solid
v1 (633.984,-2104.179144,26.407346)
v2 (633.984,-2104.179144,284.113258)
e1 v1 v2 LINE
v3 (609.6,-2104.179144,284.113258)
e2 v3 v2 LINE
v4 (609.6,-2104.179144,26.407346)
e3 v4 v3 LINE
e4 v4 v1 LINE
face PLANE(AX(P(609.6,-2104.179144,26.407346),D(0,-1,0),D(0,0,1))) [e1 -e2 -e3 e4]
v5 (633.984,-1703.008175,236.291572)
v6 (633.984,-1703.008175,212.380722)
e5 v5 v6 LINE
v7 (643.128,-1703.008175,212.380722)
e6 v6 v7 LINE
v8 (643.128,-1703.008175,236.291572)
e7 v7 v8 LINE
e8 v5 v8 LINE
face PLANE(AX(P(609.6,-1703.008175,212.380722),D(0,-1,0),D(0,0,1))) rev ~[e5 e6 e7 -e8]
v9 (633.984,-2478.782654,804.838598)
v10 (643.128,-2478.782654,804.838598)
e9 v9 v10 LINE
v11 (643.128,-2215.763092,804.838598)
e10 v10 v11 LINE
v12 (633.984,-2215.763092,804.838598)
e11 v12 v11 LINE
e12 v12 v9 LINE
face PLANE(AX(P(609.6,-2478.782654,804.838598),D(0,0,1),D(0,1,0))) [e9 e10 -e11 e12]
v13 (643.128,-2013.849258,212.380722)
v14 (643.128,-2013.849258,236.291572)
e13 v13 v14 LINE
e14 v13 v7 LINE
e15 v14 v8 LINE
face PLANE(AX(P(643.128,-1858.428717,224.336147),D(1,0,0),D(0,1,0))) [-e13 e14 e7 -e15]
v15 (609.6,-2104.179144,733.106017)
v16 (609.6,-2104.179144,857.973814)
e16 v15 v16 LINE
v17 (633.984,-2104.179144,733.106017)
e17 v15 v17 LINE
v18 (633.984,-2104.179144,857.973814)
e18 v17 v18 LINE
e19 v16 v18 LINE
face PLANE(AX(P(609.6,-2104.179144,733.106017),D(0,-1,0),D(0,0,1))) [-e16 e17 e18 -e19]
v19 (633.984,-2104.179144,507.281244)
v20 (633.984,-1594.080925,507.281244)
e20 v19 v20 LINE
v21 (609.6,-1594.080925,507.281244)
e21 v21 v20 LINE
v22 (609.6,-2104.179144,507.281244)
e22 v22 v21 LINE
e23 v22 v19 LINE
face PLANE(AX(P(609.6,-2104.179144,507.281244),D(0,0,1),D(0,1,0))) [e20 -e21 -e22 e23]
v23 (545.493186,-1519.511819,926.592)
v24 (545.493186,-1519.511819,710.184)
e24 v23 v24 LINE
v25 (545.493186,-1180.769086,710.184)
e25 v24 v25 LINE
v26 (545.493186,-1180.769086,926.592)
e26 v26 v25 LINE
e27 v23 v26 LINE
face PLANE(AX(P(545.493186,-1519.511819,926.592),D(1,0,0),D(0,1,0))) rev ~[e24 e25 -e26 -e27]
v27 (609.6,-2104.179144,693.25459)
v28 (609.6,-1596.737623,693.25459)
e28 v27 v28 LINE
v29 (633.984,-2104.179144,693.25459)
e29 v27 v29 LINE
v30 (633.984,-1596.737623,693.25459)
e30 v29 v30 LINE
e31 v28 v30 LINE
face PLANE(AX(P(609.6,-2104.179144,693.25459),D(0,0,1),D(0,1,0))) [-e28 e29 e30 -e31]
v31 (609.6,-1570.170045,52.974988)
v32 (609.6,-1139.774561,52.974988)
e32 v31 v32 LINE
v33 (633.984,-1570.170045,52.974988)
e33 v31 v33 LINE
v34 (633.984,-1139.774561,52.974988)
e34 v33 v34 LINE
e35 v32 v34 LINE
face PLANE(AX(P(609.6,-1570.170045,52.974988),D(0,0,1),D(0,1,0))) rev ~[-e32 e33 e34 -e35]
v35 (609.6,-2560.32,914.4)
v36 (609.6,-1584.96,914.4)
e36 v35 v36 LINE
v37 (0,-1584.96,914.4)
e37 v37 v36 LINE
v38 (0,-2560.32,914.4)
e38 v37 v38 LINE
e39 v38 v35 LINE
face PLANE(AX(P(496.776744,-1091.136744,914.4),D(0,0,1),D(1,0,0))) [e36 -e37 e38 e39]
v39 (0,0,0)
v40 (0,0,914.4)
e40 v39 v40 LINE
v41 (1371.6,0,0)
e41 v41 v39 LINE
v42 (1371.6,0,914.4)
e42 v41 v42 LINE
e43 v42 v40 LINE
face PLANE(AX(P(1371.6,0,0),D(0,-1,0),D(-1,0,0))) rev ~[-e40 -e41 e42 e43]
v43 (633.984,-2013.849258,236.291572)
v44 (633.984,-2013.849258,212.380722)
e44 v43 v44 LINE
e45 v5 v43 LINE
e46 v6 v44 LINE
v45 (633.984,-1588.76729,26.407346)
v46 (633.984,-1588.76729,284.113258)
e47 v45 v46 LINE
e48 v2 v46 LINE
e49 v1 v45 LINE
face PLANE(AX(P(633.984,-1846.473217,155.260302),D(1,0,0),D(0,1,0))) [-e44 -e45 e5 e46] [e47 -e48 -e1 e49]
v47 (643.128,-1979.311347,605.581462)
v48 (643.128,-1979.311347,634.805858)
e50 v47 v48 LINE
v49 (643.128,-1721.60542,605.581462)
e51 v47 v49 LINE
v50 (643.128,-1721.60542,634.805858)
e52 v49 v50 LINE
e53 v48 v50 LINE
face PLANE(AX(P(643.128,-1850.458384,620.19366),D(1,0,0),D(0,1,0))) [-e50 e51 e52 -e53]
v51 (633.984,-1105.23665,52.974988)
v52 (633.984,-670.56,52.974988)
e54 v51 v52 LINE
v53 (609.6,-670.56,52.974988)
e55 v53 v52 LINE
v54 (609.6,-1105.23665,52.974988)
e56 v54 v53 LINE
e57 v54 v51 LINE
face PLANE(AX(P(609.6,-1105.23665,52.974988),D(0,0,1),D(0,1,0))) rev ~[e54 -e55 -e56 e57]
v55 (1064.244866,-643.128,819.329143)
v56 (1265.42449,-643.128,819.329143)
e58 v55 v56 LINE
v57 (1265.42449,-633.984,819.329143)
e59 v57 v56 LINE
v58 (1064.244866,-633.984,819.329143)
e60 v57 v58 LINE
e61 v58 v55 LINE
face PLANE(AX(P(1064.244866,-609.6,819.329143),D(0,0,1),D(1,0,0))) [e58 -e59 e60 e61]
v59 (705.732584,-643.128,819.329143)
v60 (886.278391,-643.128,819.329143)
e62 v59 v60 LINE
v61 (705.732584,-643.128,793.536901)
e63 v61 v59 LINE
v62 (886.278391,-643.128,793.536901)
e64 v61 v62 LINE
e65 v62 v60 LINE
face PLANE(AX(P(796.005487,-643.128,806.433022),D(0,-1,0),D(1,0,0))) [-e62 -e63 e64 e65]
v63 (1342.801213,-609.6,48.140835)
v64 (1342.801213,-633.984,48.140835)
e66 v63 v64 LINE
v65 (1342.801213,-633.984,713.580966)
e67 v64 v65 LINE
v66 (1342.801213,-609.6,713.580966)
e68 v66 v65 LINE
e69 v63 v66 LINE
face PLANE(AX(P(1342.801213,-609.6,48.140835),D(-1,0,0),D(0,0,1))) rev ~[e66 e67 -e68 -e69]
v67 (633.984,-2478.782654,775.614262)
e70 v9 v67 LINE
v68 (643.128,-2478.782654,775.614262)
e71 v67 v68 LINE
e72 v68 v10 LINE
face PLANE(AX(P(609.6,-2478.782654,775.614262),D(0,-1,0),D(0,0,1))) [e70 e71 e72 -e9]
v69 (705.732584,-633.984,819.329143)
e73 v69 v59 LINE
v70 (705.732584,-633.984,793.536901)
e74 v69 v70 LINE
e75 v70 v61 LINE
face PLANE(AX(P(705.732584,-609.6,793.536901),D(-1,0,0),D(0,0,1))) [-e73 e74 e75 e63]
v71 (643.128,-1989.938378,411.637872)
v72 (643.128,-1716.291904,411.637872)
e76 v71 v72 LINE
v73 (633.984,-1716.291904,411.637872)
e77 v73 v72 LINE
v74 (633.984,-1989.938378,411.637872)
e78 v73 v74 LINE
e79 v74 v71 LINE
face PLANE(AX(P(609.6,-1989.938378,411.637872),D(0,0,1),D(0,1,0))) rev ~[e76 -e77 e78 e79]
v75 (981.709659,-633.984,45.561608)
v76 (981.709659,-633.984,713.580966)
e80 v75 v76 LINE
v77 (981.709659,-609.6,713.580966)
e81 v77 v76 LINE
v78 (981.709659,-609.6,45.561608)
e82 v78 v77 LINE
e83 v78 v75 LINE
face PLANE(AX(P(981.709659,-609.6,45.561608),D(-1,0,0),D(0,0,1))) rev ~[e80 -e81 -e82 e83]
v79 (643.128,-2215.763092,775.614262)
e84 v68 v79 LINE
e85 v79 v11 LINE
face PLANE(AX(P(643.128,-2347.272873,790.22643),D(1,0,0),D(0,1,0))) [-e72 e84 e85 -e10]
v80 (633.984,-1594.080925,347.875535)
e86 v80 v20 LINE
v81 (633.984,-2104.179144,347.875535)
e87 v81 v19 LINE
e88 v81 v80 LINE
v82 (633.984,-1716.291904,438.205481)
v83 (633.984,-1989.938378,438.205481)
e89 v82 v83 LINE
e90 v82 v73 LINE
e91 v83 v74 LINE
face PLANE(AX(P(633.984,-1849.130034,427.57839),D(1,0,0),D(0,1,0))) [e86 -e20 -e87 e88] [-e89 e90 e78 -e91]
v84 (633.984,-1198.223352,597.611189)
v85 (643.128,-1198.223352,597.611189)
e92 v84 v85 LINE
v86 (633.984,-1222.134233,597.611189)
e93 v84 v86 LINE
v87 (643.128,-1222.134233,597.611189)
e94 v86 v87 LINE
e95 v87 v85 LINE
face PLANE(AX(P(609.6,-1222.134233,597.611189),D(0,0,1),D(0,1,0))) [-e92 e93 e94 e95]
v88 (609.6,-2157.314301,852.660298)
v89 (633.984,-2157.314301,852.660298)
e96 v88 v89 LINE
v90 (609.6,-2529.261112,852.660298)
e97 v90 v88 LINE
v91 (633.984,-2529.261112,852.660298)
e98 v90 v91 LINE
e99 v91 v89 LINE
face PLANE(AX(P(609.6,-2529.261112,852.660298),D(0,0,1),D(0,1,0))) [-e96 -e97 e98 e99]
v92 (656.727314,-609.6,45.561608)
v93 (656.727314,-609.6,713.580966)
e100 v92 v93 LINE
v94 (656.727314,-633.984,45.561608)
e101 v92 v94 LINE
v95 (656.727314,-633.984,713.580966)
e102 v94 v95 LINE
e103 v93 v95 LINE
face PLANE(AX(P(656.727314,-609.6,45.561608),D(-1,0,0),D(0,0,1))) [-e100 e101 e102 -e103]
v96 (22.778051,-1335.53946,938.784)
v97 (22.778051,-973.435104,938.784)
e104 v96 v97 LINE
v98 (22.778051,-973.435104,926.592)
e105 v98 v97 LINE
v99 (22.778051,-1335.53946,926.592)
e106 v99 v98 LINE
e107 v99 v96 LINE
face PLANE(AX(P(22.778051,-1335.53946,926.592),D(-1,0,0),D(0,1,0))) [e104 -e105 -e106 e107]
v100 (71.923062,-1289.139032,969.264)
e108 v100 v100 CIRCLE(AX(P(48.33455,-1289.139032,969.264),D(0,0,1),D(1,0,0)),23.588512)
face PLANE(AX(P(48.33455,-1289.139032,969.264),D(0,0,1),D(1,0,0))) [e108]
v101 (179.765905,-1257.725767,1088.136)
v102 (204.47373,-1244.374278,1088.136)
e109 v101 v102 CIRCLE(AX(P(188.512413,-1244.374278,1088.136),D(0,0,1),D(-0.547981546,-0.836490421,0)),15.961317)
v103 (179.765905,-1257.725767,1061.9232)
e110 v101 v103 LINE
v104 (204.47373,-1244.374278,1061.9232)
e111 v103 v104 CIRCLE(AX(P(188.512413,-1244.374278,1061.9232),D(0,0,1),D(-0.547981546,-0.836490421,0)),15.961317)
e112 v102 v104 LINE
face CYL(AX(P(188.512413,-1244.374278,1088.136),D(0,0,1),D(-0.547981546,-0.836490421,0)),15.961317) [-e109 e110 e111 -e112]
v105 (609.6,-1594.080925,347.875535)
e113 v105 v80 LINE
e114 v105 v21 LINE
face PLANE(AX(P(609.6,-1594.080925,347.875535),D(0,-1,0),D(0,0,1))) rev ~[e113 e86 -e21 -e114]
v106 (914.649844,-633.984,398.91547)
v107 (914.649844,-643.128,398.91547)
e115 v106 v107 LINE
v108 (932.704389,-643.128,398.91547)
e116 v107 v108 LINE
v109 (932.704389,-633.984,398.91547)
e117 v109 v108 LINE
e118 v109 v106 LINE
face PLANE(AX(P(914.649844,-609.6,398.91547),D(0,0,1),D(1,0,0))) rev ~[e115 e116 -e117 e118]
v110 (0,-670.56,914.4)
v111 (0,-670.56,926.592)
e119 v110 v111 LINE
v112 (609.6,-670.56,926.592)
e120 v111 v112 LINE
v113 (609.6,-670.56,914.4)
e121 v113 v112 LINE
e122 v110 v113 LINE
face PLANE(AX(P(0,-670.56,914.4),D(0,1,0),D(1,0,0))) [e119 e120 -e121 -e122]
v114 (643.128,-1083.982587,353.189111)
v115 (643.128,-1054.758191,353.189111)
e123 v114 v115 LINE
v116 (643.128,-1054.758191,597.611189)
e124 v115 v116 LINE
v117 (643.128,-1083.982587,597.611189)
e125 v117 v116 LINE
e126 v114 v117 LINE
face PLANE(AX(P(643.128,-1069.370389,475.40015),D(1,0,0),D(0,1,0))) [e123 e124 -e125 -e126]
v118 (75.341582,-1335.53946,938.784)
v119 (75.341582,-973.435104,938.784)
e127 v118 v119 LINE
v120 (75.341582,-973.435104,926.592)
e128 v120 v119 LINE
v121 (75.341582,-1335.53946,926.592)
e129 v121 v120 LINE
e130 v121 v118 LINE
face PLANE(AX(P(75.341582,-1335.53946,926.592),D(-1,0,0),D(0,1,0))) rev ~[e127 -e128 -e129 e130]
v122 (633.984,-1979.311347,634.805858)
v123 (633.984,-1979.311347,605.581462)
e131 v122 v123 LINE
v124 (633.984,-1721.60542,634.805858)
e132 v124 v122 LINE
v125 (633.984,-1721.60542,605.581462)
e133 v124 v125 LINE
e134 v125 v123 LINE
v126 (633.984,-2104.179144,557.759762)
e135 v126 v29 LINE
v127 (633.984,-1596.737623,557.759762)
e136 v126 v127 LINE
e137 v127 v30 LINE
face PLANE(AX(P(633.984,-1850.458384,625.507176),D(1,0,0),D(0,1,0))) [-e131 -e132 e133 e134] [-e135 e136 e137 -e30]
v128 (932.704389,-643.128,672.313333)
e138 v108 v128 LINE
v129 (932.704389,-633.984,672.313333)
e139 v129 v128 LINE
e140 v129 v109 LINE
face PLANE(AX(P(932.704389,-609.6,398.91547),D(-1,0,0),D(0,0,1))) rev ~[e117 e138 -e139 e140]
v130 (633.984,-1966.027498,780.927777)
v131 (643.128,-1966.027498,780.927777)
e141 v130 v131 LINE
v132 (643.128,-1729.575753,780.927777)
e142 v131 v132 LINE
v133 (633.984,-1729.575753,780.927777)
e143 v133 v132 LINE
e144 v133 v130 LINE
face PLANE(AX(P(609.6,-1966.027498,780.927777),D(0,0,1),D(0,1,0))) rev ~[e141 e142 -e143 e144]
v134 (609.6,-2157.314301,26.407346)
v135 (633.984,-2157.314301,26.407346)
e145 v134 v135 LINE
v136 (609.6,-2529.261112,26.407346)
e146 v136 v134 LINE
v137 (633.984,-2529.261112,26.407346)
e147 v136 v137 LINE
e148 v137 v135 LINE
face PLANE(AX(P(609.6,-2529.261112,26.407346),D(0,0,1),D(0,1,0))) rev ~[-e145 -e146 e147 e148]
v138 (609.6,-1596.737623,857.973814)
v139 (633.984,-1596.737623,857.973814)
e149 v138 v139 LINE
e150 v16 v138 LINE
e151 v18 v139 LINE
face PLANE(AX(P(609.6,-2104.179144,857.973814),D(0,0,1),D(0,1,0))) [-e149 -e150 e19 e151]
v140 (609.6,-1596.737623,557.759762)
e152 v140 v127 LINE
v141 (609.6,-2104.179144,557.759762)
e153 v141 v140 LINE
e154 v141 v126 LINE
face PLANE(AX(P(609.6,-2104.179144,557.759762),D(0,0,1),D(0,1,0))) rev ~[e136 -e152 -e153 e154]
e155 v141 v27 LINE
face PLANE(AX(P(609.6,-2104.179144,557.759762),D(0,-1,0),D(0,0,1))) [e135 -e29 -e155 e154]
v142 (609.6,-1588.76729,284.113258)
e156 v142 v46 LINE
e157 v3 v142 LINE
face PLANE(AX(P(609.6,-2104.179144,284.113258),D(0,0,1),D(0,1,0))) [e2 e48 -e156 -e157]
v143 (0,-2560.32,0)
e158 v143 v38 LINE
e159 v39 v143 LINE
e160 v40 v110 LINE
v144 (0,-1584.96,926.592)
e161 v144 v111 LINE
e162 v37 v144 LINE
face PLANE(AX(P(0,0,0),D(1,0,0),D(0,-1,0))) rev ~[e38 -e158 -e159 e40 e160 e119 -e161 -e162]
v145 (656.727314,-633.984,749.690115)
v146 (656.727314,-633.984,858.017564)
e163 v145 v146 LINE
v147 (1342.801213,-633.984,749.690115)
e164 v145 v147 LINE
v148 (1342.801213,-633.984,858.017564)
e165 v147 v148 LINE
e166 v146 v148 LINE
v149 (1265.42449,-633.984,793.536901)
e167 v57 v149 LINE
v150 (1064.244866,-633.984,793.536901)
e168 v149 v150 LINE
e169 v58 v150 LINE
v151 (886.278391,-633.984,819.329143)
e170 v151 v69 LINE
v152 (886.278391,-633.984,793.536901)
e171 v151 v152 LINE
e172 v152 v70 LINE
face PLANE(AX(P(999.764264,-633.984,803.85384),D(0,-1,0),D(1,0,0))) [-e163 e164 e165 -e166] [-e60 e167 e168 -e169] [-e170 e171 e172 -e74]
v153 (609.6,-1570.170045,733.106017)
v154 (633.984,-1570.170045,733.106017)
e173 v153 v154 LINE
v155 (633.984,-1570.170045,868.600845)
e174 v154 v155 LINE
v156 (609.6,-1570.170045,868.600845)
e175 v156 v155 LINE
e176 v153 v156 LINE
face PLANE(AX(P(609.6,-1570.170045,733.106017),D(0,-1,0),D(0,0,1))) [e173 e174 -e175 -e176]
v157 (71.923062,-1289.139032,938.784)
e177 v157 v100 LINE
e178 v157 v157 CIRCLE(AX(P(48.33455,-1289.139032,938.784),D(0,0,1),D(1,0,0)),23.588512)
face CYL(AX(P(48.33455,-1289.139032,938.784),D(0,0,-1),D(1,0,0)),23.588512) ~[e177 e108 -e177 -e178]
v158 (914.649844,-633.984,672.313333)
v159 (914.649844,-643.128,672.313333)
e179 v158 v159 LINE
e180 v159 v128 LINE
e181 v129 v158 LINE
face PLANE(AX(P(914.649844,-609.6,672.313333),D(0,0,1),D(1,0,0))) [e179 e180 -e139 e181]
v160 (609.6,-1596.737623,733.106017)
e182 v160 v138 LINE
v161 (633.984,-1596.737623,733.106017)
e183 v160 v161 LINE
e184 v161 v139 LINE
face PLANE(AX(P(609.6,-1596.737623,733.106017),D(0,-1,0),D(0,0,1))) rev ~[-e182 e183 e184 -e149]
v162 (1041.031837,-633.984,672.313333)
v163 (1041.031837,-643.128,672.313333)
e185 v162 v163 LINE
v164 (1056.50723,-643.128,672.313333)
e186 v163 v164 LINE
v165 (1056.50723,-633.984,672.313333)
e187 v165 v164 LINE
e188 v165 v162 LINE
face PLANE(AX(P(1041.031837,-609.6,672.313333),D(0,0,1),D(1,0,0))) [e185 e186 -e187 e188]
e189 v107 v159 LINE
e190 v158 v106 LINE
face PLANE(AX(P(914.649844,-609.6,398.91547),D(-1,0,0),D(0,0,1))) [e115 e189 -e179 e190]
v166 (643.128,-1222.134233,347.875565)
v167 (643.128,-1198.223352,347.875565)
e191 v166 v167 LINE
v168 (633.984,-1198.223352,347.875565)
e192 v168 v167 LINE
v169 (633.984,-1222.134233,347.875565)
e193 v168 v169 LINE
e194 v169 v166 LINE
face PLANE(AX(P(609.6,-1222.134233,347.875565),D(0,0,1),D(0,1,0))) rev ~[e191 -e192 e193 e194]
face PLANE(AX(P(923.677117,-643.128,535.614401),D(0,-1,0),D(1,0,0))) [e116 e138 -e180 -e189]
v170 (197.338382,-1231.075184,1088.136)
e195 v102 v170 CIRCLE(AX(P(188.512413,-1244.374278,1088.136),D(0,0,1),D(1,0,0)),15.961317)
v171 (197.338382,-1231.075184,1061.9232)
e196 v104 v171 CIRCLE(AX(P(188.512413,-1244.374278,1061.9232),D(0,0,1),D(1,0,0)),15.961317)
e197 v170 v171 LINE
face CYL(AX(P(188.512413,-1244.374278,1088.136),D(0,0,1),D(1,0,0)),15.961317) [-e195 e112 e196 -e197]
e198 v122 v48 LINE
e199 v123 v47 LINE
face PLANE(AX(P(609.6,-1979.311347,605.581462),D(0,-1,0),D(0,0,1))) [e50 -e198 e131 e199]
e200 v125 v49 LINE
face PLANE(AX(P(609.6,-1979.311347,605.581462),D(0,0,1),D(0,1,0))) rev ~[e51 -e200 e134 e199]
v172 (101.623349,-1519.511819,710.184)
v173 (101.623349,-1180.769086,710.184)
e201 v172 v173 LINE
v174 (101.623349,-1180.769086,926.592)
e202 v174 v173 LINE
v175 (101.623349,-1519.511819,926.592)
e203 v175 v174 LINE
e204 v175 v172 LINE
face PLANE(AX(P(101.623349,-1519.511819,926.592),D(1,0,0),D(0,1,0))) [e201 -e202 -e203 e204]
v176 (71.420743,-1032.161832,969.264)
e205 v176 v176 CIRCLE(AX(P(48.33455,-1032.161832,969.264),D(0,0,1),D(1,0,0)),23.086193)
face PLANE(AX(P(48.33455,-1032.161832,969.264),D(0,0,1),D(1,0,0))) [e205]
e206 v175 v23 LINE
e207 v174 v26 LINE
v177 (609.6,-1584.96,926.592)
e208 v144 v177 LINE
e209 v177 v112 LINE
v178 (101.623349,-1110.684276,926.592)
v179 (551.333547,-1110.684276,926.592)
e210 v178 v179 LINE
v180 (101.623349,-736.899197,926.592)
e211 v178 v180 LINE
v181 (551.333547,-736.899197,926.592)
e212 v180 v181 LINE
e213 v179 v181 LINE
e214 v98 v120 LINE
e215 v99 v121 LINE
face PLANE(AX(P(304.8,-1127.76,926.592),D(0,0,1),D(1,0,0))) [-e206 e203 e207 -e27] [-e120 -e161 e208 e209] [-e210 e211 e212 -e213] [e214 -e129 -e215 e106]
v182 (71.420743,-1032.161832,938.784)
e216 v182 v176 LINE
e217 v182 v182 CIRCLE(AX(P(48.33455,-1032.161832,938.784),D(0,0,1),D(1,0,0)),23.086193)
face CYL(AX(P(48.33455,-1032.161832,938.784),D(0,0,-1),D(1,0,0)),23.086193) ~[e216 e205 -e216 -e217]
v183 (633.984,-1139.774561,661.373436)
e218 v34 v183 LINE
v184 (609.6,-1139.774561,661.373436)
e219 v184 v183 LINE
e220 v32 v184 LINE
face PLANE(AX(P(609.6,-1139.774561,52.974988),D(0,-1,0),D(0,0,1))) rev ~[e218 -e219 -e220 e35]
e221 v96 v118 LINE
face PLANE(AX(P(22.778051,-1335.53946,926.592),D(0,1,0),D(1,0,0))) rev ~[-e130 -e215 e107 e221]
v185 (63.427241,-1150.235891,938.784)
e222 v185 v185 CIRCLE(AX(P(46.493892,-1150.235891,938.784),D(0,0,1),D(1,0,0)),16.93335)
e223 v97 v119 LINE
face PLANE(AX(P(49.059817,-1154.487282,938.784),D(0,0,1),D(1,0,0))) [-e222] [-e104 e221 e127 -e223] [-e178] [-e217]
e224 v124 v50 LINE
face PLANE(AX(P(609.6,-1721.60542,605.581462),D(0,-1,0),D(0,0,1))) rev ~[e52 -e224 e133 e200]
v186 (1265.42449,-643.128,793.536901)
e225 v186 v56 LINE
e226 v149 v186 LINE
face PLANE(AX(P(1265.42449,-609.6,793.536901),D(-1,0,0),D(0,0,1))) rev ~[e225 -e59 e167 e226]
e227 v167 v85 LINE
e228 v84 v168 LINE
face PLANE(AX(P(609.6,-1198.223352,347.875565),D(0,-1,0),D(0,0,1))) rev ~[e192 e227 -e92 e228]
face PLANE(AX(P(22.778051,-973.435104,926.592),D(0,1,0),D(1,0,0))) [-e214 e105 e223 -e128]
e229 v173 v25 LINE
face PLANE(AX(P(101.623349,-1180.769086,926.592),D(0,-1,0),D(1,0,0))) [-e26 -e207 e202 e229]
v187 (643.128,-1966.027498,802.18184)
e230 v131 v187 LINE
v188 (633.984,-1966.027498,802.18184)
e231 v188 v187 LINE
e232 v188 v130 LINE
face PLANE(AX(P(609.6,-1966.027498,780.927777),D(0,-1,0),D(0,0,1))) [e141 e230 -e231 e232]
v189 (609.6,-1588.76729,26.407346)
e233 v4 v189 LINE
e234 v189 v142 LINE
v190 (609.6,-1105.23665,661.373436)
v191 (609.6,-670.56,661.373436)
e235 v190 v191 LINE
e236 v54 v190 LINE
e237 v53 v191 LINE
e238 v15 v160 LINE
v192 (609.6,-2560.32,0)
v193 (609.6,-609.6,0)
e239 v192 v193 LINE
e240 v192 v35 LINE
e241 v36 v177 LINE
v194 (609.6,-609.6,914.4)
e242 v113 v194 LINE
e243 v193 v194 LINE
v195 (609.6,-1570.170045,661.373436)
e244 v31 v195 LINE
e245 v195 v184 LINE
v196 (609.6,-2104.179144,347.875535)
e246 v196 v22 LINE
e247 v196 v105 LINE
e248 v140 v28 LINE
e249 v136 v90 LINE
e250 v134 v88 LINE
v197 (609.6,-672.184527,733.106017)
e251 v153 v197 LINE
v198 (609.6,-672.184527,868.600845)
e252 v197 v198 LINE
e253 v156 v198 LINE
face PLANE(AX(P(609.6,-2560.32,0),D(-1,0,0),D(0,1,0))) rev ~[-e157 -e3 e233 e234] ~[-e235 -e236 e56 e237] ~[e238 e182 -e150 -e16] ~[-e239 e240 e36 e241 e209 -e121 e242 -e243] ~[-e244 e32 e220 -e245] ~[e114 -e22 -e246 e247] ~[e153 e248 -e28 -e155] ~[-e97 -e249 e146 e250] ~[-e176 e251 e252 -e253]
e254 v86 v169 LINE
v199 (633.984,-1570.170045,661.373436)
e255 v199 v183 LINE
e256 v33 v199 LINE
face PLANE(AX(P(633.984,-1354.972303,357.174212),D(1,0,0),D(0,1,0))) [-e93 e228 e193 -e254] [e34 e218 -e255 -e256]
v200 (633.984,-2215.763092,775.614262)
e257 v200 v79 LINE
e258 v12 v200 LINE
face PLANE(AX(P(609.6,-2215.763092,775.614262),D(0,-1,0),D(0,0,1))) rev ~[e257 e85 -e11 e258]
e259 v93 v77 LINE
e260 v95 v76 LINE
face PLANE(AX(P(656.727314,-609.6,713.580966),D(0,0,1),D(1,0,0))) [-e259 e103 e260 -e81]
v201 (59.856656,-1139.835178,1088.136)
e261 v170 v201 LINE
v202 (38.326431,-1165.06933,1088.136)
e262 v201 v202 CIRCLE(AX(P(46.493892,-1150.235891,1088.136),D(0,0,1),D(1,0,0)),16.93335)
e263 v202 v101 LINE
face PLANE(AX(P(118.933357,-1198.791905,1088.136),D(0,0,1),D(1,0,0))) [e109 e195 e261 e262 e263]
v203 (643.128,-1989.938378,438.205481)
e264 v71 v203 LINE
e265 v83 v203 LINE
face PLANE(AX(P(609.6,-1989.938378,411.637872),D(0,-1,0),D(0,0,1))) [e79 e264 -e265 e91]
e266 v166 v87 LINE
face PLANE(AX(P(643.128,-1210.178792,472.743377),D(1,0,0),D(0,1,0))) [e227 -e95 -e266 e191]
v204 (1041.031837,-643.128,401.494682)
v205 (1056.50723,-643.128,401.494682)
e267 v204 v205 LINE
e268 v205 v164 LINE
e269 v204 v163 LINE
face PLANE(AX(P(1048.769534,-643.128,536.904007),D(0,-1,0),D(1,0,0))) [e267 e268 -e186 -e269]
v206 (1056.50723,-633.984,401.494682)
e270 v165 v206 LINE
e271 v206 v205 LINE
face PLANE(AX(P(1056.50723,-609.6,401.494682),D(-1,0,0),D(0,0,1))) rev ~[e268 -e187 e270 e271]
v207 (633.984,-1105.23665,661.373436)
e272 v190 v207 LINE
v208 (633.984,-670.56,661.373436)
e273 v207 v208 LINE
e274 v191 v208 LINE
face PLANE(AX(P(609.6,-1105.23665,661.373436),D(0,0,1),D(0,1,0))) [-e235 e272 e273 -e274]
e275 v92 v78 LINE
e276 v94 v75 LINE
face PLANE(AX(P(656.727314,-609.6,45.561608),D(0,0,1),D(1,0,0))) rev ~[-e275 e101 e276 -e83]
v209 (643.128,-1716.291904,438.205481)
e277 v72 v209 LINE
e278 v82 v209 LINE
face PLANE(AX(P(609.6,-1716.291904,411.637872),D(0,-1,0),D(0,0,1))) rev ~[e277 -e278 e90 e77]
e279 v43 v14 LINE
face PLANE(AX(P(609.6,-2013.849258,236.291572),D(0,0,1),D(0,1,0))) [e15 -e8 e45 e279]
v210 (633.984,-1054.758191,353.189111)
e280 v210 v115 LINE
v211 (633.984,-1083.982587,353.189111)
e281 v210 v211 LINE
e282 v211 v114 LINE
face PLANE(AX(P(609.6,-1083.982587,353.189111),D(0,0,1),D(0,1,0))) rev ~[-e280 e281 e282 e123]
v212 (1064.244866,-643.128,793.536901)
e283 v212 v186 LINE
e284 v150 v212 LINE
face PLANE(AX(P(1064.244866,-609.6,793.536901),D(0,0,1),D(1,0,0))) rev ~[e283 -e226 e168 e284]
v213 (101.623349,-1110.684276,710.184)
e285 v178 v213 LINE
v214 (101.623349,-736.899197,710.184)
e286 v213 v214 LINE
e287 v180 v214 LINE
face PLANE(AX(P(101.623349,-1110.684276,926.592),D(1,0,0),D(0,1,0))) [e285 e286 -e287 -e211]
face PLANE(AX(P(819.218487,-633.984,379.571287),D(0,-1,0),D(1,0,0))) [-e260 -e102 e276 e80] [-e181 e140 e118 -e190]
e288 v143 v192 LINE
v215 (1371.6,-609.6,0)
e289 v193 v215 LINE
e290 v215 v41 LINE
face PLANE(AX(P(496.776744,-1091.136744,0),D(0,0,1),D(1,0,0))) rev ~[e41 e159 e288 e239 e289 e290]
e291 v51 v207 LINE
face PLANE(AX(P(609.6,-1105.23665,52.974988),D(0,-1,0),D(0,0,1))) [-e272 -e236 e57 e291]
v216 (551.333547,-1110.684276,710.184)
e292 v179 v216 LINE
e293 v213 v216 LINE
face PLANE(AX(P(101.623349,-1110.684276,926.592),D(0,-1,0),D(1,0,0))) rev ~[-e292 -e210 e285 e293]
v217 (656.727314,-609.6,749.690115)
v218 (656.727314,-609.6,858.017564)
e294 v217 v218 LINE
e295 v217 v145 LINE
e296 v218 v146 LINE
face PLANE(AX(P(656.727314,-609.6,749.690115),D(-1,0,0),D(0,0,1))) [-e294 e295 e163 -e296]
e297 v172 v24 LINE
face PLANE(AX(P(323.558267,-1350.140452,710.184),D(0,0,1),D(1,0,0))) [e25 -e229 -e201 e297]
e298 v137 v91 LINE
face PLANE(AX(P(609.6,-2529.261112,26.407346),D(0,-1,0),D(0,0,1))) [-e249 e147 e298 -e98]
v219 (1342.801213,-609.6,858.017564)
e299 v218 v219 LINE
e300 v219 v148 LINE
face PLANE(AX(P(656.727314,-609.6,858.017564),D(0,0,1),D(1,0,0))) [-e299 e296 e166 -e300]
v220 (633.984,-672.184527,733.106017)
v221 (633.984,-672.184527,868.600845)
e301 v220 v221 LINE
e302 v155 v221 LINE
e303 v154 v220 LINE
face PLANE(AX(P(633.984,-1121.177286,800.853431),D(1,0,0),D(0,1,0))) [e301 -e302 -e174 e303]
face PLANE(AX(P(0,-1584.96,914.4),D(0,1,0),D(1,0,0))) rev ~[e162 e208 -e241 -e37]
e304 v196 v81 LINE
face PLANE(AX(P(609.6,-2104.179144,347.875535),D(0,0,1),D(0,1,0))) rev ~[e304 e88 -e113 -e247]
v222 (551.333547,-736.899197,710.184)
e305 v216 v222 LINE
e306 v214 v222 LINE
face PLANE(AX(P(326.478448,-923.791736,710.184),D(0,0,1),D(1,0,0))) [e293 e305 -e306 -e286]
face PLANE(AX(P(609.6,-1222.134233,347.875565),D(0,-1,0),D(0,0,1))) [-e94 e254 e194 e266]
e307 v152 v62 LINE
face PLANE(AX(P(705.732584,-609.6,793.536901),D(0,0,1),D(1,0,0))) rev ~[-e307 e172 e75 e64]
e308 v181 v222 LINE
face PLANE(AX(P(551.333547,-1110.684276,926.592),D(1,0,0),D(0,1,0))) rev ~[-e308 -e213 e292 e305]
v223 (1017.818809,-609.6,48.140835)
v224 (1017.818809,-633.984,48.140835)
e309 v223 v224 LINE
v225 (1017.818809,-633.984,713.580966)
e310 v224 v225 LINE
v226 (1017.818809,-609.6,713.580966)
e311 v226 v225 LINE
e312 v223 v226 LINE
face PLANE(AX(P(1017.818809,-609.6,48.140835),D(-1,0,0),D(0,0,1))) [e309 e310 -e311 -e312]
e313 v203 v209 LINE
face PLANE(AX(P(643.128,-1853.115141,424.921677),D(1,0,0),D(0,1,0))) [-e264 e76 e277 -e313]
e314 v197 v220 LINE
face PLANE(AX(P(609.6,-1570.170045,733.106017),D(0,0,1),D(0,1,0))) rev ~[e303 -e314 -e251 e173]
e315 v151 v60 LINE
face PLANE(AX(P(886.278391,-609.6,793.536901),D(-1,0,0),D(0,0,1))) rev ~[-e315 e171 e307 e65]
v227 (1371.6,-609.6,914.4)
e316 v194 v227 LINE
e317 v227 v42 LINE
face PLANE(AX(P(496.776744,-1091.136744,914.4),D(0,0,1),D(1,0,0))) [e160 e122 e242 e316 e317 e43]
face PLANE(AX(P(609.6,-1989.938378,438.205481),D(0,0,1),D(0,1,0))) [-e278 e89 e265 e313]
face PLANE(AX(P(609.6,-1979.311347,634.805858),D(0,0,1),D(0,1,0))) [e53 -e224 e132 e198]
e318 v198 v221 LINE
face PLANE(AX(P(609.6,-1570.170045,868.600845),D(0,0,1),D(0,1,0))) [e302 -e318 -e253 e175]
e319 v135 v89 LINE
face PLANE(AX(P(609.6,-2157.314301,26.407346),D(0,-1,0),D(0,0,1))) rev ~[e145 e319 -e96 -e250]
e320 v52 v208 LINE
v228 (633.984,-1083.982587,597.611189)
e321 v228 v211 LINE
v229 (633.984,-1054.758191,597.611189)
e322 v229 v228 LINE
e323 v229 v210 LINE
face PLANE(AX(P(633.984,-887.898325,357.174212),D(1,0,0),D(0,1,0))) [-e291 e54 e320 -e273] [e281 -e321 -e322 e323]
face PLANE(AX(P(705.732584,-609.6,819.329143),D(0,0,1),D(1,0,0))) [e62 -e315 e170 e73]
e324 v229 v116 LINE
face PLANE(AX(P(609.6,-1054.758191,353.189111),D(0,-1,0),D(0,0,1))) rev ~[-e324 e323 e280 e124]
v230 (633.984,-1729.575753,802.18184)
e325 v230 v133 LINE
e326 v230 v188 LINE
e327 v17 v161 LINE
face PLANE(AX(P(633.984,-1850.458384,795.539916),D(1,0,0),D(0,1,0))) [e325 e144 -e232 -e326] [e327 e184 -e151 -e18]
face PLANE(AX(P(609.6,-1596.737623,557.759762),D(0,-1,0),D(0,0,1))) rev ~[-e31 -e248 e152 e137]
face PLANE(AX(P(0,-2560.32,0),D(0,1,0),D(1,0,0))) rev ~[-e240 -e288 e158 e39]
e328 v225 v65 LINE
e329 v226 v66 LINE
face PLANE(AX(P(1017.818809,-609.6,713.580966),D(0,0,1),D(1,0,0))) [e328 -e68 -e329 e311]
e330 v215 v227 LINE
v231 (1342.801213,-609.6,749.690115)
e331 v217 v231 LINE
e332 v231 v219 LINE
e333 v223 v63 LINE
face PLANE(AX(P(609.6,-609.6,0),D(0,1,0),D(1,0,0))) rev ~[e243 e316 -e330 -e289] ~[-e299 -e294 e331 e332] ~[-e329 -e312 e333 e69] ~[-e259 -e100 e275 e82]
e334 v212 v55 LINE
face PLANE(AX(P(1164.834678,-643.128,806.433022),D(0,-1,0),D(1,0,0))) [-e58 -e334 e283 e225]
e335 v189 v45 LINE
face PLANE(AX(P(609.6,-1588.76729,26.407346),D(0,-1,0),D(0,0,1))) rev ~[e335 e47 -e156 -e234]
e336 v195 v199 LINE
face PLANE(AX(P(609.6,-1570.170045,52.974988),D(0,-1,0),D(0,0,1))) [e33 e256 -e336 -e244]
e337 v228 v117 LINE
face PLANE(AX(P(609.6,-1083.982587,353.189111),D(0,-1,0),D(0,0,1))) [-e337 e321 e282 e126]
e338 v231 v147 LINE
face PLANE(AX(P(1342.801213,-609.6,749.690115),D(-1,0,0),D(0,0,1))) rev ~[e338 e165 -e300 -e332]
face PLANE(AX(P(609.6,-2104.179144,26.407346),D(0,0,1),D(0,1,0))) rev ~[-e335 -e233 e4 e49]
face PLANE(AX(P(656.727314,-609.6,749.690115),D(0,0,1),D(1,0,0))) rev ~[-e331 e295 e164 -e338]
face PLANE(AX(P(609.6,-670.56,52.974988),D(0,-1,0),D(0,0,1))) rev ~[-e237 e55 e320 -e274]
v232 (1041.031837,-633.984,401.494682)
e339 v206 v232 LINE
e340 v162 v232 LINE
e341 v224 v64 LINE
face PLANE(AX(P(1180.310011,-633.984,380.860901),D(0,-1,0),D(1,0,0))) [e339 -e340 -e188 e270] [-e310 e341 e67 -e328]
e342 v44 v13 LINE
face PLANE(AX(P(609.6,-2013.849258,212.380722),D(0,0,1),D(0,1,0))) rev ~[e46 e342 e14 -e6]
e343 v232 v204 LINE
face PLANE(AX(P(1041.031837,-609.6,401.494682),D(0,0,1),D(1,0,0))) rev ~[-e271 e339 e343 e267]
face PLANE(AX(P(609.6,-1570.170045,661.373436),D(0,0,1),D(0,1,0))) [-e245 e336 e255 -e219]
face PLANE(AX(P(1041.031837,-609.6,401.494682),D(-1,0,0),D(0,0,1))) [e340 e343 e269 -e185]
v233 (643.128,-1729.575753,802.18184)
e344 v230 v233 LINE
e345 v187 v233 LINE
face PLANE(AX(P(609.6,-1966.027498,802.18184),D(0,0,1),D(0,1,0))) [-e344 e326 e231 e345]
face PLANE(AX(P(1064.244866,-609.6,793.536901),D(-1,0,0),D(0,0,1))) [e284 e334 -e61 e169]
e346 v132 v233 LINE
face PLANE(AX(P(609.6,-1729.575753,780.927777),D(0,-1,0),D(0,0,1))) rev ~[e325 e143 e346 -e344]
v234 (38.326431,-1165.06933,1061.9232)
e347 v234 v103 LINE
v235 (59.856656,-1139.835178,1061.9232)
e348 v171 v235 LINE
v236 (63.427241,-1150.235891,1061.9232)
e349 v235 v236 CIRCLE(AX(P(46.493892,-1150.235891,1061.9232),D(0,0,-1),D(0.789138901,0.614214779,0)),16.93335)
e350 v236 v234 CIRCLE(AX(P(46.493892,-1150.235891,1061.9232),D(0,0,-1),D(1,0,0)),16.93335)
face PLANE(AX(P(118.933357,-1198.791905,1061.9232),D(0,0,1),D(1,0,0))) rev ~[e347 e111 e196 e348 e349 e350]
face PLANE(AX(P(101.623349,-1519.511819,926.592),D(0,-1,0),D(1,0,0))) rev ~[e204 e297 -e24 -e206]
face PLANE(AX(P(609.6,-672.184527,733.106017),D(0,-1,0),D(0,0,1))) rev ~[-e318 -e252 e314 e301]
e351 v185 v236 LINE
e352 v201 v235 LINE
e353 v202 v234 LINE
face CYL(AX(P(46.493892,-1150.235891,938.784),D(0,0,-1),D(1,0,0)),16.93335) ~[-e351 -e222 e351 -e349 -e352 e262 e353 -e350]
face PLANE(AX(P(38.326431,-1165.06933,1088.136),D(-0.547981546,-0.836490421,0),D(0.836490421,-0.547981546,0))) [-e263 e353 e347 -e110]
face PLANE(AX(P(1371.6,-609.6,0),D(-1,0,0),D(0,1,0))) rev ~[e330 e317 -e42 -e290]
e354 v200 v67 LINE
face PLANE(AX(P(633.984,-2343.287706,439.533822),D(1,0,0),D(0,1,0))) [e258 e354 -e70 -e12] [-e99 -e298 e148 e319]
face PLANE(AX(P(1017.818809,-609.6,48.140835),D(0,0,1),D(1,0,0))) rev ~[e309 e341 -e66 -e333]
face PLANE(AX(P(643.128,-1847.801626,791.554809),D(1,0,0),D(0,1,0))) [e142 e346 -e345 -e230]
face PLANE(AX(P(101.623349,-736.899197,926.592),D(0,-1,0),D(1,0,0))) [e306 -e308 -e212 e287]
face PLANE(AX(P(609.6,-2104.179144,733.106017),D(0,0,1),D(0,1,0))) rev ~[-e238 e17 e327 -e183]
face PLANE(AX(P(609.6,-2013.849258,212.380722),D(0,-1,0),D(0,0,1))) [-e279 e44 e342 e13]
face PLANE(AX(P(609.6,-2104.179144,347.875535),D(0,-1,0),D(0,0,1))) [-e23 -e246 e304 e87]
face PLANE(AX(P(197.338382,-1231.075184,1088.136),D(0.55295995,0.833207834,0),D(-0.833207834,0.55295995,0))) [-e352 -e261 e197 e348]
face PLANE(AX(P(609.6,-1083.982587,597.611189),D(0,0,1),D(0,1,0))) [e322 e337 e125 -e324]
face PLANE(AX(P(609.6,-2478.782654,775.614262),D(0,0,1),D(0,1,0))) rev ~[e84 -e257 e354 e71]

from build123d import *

# Parameters (mm, degrees)
F1_DEPTH  = 914.4
F2_W      = 609.6
F2_H      = 914.4
F3_DEPTH  = 12.192
F4_W      = 449.7101977468
F4_H      = 373.7850785255
F4_W_2    = 443.8698366284
F4_H_2    = 338.7427330017
F5_DEPTH  = 216.408
F6_W      = 52.5635313243
F6_H      = 362.1043562889
F7_DEPTH  = 12.192
F8_R      = 23.0861933735
F8_R_2    = 23.5885121879
F9_DEPTH  = 30.48
F10_R     = 16.9333495062
F11_DEPTH = 149.352
F13_DEPTH = 26.2128
F14_W     = 897.9855179787
F14_H     = 135.4948282242
F14_W_2   = 430.3954839706
F14_H_2   = 608.3984486759
F14_W_3   = 434.6766495132
F14_W_4   = 507.4415206909
F14_H_3   = 124.8677968979
F14_W_5   = 510.0982189178
F14_H_4   = 159.405708313
F14_W_6   = 515.4118537903
F14_H_5   = 257.705911994
F14_W_7   = 371.946811676
F14_H_6   = 826.2529522181
F15_DEPTH = 24.384
F16_W     = 263.0195617676
F16_H     = 29.2243361473
F16_W_2   = 236.4517450333
F16_H_2   = 21.2540626526
F16_W_3   = 257.7059268951
F16_H_3   = 29.224395752
F16_W_4   = 273.6464738846
F16_H_4   = 26.5676081181
F16_W_5   = 310.8410835266
F16_H_5   = 23.9108502865
F16_W_6   = 23.9108800888
F16_H_6   = 249.7356235981
F16_W_7   = 29.224395752
F16_H_7   = 244.4220781326
F17_DEPTH = 33.528
F18_W     = 686.0738992691
F18_H     = 108.3274483681
F18_W_2   = 324.9823451042
F18_H_2   = 668.0193580687
F18_W_3   = 324.9824047089
F18_H_3   = 665.4401309788
F19_DEPTH = 24.384
F20_W     = 180.5458068848
F20_H     = 25.7922410965
F20_W_2   = 201.1796236038
F20_W_3   = 18.0545449257
F20_H_2   = 273.3978629112
F20_W_4   = 15.4753923416
F20_H_3   = 270.8186507225
F21_DEPTH = 33.528


with BuildPart() as f1:
    # F0 (on Top) → F1 (new body)
    with BuildSketch(Plane.XY):
        Polygon((1371.6, 0), (0, 0), (0, -2560.32), (609.6, -2560.32), (609.6, -609.6), (1371.6, -609.6), align=None)
    extrude(amount=F1_DEPTH)

    # F2 (on face) → F3 (join)
    with BuildSketch(Plane.XY.offset(914.4)):
        with Locations((304.8, -1127.76)):
            Rectangle(F2_W, F2_H)
    extrude(amount=F3_DEPTH)

    # F4 (on face) → F5 (cut)
    with BuildSketch(Plane.XY.offset(926.592)):
        with Locations((326.4784477651, -923.7917363644)):
            Rectangle(F4_W, F4_H)
        with Locations((323.558267206, -1350.1404523849)):
            Rectangle(F4_W_2, F4_H_2)
    extrude(amount=-F5_DEPTH, mode=Mode.SUBTRACT)

    # F6 (on face) → F7 (join)
    with BuildSketch(Plane.XY.offset(926.592)):
        with Locations((49.0598166361, -1154.4872820377)):
            Rectangle(F6_W, F6_H)
    extrude(amount=F7_DEPTH)

    # F8 (on face) → F9 (join)
    with BuildSketch(Plane.XY.offset(938.784)):
        with Locations((48.3345501125, -1032.1618318558)):
            Circle(F8_R)
        with Locations((48.3345501125, -1289.1390323639)):
            Circle(F8_R_2)
    extrude(amount=F9_DEPTH)

    # F10 (on face) → F11 (join)
    with BuildSketch(Plane.XY.offset(938.784)):
        with Locations((46.4938916266, -1150.2358913422)):
            Circle(F10_R)
    extrude(amount=F11_DEPTH)

    # F12 (on face) → F13 (join)
    with BuildSketch(Plane.XY.offset(1088.136)):
        with BuildLine():
            ThreePointArc((179.7659053915, -1257.725767202), (175.1870617422, -1235.5880011729), (197.3383816738, -1231.0751839585))
            Line((197.3383816738, -1231.0751839585), (59.8566564425, -1139.8351778101))
            ThreePointArc((59.8566564425, -1139.8351778101), (62.5097383494, -1144.737620773), (63.4272411328, -1150.2358913422))
            ThreePointArc((63.4272411328, -1150.2358913422), (55.1088743441, -1164.8139707176), (38.3264306642, -1165.0693301521))
            Line((38.3264306642, -1165.0693301521), (179.7659053915, -1257.725767202))
        make_face()
        with BuildLine():
            ThreePointArc((179.7659053915, -1257.725767202), (196.100490997, -1258.4165256424), (204.473729656, -1244.374278369))
            ThreePointArc((204.473729656, -1244.374278369), (202.577222106, -1236.8281021359), (197.3383816738, -1231.0751839585))
            ThreePointArc((197.3383816738, -1231.0751839585), (175.1870617422, -1235.5880011729), (179.7659053915, -1257.725767202))
        make_face()
    extrude(amount=-F13_DEPTH)

    # F14 (on face) → F15 (join)
    with BuildSketch(Plane.YZ.offset(609.6)):
        with Locations((-1121.1772859097, 800.8534312248)):
            Rectangle(F14_W, F14_H)
        with Locations((-1354.9723029137, 357.174212113)):
            Rectangle(F14_W_2, F14_H_2)
        with Locations((-887.8983247566, 357.174212113)):
            Rectangle(F14_W_3, F14_H_2)
        with Locations((-1850.4583835602, 795.5399155617)):
            Rectangle(F14_W_4, F14_H_3)
        with Locations((-1850.4583835602, 625.5071759224)):
            Rectangle(F14_W_4, F14_H)
        with Locations((-1849.1300344467, 427.5783896446)):
            Rectangle(F14_W_5, F14_H_4)
        with Locations((-1846.4732170105, 155.2603021264)):
            Rectangle(F14_W_6, F14_H_5)
        with Locations((-2343.2877063751, 439.5338222384)):
            Rectangle(F14_W_7, F14_H_6)
    extrude(amount=F15_DEPTH)

    # F16 (on face) → F17 (join)
    with BuildSketch(Plane.YZ.offset(609.6)):
        with Locations((-2347.2728729248, 790.2264297009)):
            Rectangle(F16_W, F16_H)
        with Locations((-1847.8016257286, 791.5548086166)):
            Rectangle(F16_W_2, F16_H_2)
        with Locations((-1850.4583835602, 620.1936602592)):
            Rectangle(F16_W_3, F16_H_3)
        with Locations((-1853.1151413918, 424.9216765165)):
            Rectangle(F16_W_4, F16_H_4)
        with Locations((-1858.4287166595, 224.3361473083)):
            Rectangle(F16_W_5, F16_H_5)
        with Locations((-1210.1787924767, 472.7433770895)):
            Rectangle(F16_W_6, F16_H_6)
        with Locations((-1069.3703889847, 475.4001498222)):
            Rectangle(F16_W_7, F16_H_7)
    extrude(amount=F17_DEPTH)

    # F18 (on face) → F19 (join)
    with BuildSketch(Plane.XZ.offset(609.6)):
        with Locations((999.7642636299, 803.8538396358)):
            Rectangle(F18_W, F18_H)
        with Locations((819.2184865475, 379.5712869614)):
            Rectangle(F18_W_2, F18_H_2)
        with Locations((1180.31001091, 380.8609005064)):
            Rectangle(F18_W_3, F18_H_3)
    extrude(amount=F19_DEPTH)

    # F20 (on face) → F21 (join)
    with BuildSketch(Plane.XZ.offset(609.6)):
        with Locations((796.005487442, 806.4330220222)):
            Rectangle(F20_W, F20_H)
        with Locations((1164.8346781731, 806.4330220222)):
            Rectangle(F20_W_2, F20_H)
        with Locations((923.6771166325, 535.6144011021)):
            Rectangle(F20_W_3, F20_H_2)
        with Locations((1048.7695336342, 536.9040071964)):
            Rectangle(F20_W_4, F20_H_3)
    extrude(amount=F21_DEPTH)


solid = f1.part
